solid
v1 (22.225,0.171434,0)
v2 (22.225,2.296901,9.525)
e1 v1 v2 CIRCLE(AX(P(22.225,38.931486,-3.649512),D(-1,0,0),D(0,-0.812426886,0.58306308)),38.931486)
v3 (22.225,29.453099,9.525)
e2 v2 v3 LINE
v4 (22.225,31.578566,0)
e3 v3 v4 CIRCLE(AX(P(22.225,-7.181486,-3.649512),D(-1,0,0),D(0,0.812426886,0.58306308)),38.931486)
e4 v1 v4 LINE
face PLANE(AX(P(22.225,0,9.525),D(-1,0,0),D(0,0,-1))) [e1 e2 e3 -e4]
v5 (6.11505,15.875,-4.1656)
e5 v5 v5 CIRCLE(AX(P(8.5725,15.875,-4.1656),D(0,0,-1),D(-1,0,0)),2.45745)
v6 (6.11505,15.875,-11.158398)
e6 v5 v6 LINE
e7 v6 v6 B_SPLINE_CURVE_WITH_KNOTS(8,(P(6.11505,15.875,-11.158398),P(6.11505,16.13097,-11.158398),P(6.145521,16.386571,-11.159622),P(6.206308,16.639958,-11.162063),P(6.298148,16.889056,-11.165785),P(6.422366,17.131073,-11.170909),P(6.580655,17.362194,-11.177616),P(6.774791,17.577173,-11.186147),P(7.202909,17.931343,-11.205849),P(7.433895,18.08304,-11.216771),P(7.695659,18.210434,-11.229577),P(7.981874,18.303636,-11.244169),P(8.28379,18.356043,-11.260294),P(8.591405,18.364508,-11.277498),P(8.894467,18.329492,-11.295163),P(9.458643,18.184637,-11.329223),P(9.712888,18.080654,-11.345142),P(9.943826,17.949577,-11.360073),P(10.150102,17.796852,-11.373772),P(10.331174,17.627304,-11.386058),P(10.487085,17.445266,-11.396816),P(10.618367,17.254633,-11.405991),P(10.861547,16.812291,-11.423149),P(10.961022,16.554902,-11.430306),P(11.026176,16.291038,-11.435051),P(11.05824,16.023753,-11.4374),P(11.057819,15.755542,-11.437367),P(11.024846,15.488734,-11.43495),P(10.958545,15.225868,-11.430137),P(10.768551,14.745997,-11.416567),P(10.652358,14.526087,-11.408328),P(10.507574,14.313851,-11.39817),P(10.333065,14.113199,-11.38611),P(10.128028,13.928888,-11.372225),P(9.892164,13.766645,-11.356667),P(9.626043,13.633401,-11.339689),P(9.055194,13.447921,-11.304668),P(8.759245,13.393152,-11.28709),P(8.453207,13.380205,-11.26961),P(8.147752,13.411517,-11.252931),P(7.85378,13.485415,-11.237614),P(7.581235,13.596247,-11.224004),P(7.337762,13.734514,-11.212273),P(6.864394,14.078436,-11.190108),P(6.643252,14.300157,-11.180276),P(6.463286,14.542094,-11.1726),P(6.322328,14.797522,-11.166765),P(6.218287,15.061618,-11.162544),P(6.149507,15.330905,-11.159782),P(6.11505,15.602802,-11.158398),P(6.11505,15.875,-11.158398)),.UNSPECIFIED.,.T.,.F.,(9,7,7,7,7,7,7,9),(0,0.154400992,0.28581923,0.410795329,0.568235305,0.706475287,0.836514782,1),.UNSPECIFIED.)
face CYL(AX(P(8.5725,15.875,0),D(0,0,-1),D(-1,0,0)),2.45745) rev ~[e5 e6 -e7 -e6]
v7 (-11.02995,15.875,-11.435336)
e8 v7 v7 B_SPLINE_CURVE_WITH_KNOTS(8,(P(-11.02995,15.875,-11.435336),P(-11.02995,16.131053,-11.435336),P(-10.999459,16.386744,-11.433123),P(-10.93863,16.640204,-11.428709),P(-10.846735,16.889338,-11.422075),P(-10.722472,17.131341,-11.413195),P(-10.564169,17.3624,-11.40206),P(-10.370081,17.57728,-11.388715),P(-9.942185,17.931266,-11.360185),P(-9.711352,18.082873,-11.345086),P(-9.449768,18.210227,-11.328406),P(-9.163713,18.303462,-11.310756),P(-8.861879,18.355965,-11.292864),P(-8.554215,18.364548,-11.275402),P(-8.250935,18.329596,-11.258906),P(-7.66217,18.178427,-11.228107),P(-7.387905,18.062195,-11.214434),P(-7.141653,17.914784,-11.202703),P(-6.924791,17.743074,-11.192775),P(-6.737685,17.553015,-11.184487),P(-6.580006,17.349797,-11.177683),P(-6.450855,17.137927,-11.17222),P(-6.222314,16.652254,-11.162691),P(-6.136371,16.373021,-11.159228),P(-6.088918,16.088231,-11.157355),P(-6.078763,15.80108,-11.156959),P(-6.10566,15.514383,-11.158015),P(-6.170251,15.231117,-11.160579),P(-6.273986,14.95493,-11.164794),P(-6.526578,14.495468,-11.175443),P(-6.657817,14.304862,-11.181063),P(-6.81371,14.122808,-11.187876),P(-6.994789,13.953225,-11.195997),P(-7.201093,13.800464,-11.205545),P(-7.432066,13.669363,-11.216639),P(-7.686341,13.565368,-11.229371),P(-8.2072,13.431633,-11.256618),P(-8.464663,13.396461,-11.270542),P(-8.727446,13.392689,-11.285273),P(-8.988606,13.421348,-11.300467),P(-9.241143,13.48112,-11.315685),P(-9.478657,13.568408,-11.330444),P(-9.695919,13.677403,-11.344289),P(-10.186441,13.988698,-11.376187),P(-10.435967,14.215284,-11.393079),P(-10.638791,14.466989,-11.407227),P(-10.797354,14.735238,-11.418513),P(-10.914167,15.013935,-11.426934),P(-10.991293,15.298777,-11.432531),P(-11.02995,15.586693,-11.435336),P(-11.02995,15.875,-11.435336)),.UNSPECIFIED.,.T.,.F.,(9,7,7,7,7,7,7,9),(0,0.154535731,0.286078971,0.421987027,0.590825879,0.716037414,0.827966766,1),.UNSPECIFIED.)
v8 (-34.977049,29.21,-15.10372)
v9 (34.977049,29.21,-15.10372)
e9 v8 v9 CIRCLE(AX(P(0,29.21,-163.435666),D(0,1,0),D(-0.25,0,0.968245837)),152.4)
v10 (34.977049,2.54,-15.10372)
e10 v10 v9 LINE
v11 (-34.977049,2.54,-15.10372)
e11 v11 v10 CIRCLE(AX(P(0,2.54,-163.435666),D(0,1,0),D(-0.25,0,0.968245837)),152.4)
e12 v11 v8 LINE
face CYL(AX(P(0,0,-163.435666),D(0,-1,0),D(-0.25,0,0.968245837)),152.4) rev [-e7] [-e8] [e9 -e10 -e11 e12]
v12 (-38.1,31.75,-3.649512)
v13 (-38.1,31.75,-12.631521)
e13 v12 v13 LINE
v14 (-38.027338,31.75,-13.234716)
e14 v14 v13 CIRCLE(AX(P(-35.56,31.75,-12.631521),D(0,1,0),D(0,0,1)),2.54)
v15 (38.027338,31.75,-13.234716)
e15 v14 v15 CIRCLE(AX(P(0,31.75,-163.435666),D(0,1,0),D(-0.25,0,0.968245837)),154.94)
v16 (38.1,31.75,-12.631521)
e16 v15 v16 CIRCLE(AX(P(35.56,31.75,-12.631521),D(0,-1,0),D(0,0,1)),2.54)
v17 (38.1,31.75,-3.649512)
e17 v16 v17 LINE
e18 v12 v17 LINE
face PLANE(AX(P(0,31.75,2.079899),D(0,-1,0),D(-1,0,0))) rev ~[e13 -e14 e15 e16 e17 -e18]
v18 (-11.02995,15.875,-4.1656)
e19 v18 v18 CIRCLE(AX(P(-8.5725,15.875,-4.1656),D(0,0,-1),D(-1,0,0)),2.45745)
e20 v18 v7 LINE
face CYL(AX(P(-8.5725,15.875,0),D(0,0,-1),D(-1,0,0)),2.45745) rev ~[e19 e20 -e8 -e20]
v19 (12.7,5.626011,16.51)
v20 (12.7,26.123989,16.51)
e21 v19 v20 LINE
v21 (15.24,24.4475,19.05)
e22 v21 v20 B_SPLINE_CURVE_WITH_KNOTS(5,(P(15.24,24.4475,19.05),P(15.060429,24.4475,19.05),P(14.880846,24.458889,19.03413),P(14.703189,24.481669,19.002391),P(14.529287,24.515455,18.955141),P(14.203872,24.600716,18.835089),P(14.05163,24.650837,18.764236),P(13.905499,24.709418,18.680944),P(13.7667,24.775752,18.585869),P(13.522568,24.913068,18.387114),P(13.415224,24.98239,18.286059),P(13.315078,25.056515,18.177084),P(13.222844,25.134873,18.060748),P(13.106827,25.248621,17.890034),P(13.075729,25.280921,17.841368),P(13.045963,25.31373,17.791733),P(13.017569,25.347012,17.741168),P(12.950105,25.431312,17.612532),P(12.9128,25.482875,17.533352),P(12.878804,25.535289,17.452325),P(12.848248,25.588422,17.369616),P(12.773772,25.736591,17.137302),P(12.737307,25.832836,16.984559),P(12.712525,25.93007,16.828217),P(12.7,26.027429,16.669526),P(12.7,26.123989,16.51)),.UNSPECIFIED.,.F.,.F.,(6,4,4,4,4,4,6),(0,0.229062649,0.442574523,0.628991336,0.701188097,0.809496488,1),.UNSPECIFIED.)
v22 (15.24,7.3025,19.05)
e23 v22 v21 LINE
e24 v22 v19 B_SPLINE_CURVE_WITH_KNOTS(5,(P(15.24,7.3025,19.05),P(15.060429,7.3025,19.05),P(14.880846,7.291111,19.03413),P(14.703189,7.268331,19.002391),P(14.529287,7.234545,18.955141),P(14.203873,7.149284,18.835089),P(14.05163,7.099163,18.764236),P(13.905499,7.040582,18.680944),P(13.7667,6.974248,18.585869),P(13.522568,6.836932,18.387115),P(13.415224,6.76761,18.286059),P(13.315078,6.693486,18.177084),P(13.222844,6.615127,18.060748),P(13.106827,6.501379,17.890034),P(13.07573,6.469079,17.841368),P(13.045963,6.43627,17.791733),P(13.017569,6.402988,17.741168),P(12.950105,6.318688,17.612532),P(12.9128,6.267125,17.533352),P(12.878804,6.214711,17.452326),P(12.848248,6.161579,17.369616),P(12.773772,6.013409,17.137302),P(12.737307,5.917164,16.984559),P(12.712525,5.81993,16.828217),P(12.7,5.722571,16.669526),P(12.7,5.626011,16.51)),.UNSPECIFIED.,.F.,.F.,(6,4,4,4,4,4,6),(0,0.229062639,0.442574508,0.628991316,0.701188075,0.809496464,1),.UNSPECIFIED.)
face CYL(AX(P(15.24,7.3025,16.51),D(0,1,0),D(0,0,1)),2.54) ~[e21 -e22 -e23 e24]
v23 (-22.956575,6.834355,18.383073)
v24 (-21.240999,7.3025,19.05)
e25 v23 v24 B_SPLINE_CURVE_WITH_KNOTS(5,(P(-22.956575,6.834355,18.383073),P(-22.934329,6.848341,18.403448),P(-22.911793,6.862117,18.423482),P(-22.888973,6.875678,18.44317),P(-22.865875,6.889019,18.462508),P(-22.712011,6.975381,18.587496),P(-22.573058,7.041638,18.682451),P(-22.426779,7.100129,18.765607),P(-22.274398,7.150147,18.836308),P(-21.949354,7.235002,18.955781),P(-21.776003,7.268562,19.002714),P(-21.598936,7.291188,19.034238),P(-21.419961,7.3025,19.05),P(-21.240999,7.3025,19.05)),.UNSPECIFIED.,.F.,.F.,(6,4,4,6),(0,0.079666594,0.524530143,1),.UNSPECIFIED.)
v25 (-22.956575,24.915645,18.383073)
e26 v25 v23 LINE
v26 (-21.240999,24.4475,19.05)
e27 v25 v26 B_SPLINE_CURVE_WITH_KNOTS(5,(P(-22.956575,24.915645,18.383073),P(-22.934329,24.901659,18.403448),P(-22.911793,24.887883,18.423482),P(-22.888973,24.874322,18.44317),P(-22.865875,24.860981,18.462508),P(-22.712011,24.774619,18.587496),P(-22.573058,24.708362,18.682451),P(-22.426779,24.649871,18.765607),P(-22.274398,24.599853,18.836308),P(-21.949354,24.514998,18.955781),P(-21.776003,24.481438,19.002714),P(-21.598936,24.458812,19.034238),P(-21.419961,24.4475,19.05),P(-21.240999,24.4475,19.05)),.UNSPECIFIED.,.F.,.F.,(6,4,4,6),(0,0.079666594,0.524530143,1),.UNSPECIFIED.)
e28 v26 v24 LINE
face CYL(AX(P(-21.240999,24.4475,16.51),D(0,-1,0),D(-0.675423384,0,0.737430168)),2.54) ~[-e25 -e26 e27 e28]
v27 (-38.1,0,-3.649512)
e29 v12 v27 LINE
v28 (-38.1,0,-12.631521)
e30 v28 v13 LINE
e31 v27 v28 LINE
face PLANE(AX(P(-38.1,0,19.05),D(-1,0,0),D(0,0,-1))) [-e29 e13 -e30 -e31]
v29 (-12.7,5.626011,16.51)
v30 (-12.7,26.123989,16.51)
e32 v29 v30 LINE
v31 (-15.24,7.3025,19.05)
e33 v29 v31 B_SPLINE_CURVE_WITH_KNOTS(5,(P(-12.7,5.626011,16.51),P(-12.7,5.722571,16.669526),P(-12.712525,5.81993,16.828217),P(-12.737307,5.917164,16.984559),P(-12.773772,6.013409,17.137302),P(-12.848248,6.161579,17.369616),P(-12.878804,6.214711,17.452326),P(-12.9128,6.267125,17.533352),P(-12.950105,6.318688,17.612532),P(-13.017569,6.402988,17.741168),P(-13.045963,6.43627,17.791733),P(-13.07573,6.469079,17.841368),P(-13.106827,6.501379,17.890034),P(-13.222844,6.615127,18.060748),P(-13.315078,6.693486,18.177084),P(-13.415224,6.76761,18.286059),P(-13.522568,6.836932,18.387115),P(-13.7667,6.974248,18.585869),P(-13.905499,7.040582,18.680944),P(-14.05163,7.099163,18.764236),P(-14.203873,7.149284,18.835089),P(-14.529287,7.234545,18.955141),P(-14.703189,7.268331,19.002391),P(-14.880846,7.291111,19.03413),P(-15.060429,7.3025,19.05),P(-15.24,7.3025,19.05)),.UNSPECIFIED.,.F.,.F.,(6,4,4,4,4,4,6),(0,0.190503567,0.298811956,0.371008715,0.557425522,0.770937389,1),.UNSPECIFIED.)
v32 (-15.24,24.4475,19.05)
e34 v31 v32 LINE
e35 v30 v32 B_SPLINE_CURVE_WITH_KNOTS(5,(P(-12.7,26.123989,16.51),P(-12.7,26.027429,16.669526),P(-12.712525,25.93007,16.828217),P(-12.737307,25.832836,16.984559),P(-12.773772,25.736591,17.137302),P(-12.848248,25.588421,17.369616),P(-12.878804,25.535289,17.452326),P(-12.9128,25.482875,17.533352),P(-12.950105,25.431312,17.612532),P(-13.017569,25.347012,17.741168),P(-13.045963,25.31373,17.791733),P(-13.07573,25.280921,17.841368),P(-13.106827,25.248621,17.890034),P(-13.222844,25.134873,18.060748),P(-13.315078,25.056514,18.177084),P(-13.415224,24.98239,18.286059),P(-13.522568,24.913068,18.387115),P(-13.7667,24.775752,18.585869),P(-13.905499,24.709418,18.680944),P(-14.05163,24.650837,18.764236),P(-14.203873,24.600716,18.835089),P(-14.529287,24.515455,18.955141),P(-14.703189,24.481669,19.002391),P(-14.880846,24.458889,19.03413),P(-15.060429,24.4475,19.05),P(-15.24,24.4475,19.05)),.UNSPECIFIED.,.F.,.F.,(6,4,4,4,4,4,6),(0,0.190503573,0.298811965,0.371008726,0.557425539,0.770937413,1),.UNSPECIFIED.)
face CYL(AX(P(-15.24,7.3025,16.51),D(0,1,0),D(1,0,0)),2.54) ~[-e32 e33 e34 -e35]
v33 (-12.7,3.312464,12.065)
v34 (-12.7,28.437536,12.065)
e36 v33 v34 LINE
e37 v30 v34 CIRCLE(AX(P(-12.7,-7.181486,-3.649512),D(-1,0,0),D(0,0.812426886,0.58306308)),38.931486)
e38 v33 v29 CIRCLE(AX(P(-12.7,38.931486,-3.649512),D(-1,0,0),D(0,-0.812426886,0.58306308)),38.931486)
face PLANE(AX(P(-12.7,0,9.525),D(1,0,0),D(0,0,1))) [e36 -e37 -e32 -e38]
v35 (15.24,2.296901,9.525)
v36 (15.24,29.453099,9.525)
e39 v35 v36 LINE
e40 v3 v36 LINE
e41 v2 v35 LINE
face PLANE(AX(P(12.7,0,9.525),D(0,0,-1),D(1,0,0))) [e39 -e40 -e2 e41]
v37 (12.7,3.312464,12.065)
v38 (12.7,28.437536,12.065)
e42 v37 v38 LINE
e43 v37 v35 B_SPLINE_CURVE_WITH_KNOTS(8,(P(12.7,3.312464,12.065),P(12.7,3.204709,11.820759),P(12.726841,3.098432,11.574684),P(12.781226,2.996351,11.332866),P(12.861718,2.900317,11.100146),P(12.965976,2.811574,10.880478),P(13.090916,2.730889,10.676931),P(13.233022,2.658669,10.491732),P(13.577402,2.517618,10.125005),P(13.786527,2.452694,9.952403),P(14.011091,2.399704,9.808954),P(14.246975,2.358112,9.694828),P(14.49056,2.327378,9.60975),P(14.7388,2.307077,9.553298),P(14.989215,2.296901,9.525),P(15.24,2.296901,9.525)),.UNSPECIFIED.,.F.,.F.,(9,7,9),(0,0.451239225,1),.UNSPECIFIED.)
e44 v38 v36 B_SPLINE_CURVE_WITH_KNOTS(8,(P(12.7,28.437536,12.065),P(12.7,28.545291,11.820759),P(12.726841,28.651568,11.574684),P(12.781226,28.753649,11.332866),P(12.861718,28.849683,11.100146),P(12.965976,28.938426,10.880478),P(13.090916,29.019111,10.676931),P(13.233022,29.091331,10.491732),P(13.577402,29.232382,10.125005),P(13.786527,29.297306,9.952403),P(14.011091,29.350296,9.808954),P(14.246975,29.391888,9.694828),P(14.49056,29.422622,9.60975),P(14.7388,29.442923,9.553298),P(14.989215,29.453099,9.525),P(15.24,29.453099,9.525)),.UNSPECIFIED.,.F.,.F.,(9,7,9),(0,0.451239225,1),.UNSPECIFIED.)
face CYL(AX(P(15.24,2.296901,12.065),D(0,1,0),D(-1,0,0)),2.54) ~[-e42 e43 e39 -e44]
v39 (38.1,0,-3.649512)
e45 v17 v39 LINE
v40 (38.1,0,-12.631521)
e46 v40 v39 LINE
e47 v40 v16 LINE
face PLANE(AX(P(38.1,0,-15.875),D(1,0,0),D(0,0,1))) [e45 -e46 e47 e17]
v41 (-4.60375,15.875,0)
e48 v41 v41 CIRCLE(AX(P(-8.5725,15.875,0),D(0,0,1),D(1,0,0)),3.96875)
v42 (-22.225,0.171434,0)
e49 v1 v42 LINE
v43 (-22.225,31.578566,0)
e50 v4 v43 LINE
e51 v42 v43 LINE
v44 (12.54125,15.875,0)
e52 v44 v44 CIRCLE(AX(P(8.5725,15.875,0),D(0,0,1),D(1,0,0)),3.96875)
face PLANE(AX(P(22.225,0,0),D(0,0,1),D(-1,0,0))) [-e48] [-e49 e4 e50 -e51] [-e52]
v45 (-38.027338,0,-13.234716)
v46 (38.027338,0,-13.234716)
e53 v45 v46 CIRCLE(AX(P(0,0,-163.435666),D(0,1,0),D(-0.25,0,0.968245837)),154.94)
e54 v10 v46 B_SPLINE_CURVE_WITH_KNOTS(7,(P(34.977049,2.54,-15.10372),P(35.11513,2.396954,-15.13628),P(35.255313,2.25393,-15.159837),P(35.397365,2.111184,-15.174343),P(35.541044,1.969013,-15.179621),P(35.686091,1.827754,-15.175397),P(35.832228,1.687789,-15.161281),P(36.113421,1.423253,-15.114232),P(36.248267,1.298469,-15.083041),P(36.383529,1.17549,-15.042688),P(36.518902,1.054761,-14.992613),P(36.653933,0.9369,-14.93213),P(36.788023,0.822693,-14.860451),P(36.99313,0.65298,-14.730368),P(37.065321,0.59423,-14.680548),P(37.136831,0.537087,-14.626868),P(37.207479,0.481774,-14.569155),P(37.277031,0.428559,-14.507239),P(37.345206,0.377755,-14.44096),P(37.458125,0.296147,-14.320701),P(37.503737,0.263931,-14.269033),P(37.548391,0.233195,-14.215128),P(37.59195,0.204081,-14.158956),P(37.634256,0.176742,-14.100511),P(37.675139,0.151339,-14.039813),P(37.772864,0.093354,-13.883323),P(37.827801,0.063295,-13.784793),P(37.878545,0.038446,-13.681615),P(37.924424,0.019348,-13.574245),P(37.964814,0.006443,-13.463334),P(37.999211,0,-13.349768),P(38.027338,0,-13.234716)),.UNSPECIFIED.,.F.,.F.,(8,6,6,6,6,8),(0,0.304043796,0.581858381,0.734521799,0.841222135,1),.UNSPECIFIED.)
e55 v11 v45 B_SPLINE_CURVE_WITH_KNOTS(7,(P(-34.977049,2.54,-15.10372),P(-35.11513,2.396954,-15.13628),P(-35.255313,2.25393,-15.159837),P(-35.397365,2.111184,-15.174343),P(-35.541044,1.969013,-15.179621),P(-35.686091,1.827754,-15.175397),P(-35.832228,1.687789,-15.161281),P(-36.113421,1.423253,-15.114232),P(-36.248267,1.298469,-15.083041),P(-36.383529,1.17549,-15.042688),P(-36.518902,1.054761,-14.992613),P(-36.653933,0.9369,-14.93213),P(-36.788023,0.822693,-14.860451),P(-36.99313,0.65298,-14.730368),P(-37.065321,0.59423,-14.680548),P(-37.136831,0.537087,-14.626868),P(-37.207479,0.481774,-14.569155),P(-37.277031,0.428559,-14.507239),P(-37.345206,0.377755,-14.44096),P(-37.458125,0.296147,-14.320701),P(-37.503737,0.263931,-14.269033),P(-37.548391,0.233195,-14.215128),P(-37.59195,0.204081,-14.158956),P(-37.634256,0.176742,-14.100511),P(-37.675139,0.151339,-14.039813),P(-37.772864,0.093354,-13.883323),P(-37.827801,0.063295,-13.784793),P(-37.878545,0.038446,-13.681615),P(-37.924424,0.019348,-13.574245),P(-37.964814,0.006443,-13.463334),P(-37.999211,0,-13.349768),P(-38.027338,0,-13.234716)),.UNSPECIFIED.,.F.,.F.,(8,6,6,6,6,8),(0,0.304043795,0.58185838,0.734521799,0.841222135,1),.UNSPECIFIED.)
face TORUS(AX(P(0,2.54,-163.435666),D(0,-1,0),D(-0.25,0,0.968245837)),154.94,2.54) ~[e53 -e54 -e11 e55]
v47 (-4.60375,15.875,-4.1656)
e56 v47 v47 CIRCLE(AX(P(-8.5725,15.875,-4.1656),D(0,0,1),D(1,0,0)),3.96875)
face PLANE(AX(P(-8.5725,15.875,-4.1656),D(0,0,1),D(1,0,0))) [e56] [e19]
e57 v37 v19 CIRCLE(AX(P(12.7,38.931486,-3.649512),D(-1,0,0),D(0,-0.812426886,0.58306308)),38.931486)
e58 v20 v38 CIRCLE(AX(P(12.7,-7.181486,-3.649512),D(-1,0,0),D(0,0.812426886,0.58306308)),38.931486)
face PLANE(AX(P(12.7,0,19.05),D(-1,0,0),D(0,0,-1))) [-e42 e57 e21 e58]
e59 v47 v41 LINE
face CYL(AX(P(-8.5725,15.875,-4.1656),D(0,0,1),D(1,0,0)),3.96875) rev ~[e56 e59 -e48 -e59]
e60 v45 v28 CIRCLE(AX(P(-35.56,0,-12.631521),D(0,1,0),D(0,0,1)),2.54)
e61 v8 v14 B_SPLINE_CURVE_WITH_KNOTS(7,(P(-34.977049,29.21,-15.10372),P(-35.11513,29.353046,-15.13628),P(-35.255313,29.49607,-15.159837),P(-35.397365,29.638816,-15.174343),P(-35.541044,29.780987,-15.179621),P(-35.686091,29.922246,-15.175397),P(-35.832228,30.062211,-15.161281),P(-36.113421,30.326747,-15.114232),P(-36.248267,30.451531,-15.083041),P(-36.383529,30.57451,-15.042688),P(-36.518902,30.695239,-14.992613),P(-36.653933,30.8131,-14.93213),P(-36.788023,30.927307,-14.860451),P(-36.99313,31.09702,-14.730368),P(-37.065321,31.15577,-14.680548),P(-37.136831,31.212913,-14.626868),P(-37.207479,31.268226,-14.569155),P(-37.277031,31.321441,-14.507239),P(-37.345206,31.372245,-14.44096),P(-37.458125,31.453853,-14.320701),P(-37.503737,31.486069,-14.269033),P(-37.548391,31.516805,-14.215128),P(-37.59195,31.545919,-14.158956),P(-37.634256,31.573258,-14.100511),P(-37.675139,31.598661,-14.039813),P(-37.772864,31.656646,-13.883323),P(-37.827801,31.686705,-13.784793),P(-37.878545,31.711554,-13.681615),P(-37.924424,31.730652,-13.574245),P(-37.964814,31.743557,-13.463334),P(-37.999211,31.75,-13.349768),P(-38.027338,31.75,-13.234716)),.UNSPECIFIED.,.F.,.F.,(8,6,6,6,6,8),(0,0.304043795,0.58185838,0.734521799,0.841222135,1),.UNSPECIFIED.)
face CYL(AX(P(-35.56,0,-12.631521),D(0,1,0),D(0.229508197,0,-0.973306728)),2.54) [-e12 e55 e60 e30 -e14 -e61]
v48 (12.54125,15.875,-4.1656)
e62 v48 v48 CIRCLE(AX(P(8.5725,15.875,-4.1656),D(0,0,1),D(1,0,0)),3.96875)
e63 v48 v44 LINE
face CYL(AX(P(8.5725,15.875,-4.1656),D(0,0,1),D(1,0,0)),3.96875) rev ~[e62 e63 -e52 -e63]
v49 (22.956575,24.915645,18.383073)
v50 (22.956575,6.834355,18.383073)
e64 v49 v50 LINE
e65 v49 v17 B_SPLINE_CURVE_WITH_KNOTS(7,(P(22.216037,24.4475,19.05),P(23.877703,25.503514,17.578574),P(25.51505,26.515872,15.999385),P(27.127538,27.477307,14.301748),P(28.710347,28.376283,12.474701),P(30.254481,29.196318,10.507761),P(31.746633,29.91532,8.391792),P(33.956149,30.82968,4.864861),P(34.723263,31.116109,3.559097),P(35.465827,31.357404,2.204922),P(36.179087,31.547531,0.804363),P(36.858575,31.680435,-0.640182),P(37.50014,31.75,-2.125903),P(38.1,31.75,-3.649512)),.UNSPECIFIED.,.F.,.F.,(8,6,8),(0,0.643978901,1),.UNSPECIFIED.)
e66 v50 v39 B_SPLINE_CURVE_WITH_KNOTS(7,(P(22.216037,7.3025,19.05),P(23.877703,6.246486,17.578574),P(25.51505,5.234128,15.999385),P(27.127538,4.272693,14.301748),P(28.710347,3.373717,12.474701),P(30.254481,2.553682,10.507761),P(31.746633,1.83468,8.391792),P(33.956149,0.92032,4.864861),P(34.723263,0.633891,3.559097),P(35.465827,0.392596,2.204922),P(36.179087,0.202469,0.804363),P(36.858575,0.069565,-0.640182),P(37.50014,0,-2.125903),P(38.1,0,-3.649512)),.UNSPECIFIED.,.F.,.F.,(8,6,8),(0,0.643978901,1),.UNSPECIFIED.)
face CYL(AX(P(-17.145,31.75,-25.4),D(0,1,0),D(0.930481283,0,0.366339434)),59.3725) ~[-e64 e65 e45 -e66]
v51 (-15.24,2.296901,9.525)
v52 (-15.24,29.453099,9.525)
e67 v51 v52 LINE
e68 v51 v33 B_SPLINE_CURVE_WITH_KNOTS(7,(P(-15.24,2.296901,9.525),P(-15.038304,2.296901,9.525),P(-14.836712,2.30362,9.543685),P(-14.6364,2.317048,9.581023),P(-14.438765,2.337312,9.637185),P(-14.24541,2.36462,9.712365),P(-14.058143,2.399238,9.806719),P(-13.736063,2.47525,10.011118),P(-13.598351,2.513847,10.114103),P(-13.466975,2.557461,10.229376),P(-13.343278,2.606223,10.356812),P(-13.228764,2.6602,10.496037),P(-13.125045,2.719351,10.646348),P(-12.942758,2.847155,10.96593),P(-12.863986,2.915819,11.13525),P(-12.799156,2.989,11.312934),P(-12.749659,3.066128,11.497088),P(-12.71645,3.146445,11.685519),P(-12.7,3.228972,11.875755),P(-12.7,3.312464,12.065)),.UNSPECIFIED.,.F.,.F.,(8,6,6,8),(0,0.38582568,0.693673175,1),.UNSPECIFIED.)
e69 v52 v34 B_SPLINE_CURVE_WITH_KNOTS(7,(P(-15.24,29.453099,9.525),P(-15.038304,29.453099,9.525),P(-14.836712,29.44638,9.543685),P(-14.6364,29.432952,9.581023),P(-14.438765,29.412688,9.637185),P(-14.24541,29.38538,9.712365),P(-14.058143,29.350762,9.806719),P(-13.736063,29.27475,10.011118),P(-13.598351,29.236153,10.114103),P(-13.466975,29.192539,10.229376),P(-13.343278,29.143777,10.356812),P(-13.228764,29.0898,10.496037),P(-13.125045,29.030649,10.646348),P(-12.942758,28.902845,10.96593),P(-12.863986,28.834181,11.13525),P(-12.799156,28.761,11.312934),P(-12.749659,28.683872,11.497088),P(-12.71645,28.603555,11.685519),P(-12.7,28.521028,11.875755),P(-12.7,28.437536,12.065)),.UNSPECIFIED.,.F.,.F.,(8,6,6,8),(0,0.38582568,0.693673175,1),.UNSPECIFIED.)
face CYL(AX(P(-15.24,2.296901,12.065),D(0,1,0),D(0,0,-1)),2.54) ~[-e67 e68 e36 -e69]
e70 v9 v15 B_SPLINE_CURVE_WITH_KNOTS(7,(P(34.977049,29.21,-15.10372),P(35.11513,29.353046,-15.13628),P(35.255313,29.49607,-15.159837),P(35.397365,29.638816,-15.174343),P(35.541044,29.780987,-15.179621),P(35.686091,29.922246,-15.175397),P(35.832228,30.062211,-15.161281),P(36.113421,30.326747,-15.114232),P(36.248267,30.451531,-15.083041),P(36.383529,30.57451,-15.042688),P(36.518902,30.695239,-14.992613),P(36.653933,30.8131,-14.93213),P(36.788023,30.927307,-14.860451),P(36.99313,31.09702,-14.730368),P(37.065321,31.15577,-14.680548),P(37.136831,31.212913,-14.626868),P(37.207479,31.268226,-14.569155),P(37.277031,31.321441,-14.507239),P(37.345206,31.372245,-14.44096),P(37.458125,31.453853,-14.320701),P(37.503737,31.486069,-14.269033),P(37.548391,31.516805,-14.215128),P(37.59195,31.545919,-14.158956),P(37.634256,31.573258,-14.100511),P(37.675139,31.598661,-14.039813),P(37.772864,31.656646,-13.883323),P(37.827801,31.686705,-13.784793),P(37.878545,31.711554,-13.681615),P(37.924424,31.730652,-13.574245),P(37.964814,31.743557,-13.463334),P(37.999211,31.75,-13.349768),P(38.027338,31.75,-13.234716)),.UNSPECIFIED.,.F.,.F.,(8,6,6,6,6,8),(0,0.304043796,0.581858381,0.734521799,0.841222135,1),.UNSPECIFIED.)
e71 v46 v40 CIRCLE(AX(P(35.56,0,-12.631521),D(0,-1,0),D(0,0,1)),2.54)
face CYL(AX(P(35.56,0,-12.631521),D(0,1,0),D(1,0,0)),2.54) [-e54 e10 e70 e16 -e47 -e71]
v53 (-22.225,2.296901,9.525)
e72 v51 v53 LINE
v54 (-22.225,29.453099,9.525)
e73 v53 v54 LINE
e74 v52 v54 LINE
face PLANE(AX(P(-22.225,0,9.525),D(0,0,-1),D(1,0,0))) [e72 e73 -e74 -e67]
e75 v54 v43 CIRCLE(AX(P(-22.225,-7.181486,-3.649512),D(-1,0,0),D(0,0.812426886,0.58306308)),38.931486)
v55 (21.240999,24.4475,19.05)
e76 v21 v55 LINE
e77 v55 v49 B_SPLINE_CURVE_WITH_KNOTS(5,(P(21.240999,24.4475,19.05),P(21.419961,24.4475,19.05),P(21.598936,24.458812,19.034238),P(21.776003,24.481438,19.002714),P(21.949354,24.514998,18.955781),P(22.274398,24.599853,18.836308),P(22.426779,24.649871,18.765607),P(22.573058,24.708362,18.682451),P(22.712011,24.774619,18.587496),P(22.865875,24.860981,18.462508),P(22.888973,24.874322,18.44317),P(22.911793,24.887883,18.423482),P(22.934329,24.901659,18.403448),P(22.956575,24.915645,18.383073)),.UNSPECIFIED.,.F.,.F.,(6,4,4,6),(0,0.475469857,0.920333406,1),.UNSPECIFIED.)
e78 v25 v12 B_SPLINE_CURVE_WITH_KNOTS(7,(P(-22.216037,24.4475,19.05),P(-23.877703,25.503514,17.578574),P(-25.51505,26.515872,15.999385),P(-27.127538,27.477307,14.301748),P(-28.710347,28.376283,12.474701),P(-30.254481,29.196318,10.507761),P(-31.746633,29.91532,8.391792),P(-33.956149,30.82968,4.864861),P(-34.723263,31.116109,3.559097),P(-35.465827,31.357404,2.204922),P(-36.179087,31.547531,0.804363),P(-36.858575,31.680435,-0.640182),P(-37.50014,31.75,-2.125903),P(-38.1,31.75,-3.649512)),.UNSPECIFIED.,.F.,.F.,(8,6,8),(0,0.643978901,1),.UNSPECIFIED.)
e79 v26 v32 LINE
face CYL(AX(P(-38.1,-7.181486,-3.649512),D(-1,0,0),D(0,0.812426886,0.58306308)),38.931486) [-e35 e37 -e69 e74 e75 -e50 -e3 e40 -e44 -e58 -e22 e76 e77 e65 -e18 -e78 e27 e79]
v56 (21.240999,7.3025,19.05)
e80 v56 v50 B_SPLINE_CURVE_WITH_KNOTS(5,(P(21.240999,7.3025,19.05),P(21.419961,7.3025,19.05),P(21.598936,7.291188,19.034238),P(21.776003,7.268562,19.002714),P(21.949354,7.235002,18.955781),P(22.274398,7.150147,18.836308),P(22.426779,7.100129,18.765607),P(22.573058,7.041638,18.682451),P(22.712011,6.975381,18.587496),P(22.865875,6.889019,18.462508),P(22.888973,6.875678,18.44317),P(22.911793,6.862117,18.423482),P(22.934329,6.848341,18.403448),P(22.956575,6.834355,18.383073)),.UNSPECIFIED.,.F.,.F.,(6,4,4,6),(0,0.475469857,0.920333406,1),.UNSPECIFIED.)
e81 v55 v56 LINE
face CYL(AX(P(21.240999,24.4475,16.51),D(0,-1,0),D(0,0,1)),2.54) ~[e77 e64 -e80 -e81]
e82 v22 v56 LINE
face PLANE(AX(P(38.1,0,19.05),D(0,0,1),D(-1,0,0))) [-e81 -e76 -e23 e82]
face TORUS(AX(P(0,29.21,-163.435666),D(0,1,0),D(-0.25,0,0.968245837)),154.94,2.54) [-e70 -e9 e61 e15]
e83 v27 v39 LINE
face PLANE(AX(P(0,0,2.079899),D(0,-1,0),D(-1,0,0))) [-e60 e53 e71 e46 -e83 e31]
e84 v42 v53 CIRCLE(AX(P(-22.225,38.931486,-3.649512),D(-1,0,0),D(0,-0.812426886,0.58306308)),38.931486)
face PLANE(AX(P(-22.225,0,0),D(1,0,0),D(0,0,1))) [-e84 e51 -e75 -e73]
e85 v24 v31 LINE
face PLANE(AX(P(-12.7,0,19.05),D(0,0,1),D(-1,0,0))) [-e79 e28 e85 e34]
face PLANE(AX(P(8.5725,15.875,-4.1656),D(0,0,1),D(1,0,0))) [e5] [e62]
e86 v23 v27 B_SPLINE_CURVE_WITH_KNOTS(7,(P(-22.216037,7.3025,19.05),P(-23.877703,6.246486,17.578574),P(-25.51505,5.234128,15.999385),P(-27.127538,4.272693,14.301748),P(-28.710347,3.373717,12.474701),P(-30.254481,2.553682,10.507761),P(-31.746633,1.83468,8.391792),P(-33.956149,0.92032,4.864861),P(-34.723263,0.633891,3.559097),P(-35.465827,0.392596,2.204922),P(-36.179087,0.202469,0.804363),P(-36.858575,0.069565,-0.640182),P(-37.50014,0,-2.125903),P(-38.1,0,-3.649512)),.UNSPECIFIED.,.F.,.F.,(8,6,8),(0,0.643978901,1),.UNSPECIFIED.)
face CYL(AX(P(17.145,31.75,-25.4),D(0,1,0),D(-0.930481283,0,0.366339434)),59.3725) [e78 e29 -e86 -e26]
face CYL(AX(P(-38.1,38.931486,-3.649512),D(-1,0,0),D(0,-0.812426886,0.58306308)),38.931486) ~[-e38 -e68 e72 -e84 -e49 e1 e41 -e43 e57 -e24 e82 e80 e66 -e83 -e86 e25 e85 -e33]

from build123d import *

# Parameters (mm, degrees)
BOSS_EXTRUDE1_DEPTH                            = 31.75
CBORE_FOR_8_SOCKET_HEAD_CAP_SCREW1_D           = 4.9149
CBORE_FOR_8_SOCKET_HEAD_CAP_SCREW1_CBORE_D     = 7.9375
CBORE_FOR_8_SOCKET_HEAD_CAP_SCREW1_CBORE_DEPTH = 4.1656
CUT_EXTRUDE1_DEPTH                             = 32.7500001
CUT_EXTRUDE3_DEPTH                             = 77.2000001
FILLET1_R                                      = 2.54
FILLET2_R                                      = 2.54
FILLET3_R                                      = 2.54


with BuildPart() as part:
    # Sketch1 → Boss-Extrude1 (new body)
    with BuildSketch(Plane(origin=(0, 0, 0), x_dir=(1, 0, 0), z_dir=(0, 1, 0))):
        with BuildLine():
            Line((38.1, 15.875), (38.1, -19.05))
            Line((38.1, -19.05), (12.7, -19.05))
            Line((12.7, -19.05), (12.7, -9.525))
            Line((12.7, -9.525), (22.225, -9.525))
            Line((22.225, -9.525), (22.225, 0))
            Line((22.225, 0), (-22.225, 0))
            Line((-22.225, 0), (-22.225, -9.525))
            Line((-22.225, -9.525), (-12.7, -9.525))
            Line((-12.7, -9.525), (-12.7, -19.05))
            Line((-12.7, -19.05), (-38.1, -19.05))
            Line((-38.1, -19.05), (-38.1, 15.875))
            ThreePointArc((-38.1, 15.875), (0, 11.035665491), (38.1, 15.875))
        make_face()
    extrude(amount=BOSS_EXTRUDE1_DEPTH)

    # CBORE for #8 Socket Head Cap Screw1 (through all)
    with Locations(Plane.XY):
        with Locations((-8.5725, 15.875), (8.5725, 15.875)):
            CounterBoreHole(CBORE_FOR_8_SOCKET_HEAD_CAP_SCREW1_D / 2, CBORE_FOR_8_SOCKET_HEAD_CAP_SCREW1_CBORE_D / 2, CBORE_FOR_8_SOCKET_HEAD_CAP_SCREW1_CBORE_DEPTH)

    # Sketch4 → Cut-Extrude1 (cut, through all)
    with BuildSketch(Plane(origin=(0, 31.75, 0), x_dir=(1, 0, 0), z_dir=(0, 1, 0))):
        with BuildLine():
            Line((-38.1, -19.05), (-38.1, 3.649511931))
            ThreePointArc((-38.1, 3.649511931), (-31.500580819, -8.639700689), (-22.216037286, -19.05))
            Line((-22.216037286, -19.05), (-38.1, -19.05))
        make_face()
    cut_extrude1 = extrude(amount=-CUT_EXTRUDE1_DEPTH, mode=Mode.SUBTRACT)

    # Mirror1: Cut-Extrude1 across plane
    add(cut_extrude1.mirror(Plane(origin=(0, 0, 0), x_dir=(0, 0, 1), z_dir=(1, 0, 0))), mode=Mode.SUBTRACT)

    # Sketch5 → Cut-Extrude3 (cut, through all)
    with BuildSketch(Plane.ZY.offset(38.1)):
        with BuildLine():
            Line((-3.649511931, 31.75), (19.05, 31.75))
            Line((19.05, 31.75), (19.05, 24.4475))
            ThreePointArc((19.05, 24.4475), (8.273096301, 29.879437004), (-3.649511931, 31.75))
        make_face()
        with BuildLine():
            ThreePointArc((19.05, 7.3025), (8.273096301, 1.870562996), (-3.649511931, 0))
            Line((-3.649511931, 0), (19.05, 0))
            Line((19.05, 0), (19.05, 7.3025))
        make_face()
    extrude(amount=-CUT_EXTRUDE3_DEPTH, mode=Mode.SUBTRACT)

    # Fillet1
    fillet1_edges = [part.edges().sort_by_distance(p)[0] for p in [
        (0, 0, -11.035665491),
        (38.1, 15.875, -15.875),
        (-38.1, 15.875, -15.875),
        (0, 31.75, -11.035665491),
    ]]
    fillet(fillet1_edges, radius=FILLET1_R)

    # Fillet2
    fillet2_edges = [part.edges().sort_by_distance(p)[0] for p in [
        (12.7, 15.875, 19.05),
        (12.7, 15.875, 9.525),
        (-12.7, 15.875, 9.525),
        (-12.7, 15.875, 19.05),
    ]]
    fillet(fillet2_edges, radius=FILLET2_R)

    # Fillet3
    fillet3_edges = [part.edges().sort_by_distance(p)[0] for p in [
        (22.216037286, 15.875, 19.05),
        (-22.216037286, 15.875, 19.05),
    ]]
    fillet(fillet3_edges, radius=FILLET3_R)


solid = part.part
